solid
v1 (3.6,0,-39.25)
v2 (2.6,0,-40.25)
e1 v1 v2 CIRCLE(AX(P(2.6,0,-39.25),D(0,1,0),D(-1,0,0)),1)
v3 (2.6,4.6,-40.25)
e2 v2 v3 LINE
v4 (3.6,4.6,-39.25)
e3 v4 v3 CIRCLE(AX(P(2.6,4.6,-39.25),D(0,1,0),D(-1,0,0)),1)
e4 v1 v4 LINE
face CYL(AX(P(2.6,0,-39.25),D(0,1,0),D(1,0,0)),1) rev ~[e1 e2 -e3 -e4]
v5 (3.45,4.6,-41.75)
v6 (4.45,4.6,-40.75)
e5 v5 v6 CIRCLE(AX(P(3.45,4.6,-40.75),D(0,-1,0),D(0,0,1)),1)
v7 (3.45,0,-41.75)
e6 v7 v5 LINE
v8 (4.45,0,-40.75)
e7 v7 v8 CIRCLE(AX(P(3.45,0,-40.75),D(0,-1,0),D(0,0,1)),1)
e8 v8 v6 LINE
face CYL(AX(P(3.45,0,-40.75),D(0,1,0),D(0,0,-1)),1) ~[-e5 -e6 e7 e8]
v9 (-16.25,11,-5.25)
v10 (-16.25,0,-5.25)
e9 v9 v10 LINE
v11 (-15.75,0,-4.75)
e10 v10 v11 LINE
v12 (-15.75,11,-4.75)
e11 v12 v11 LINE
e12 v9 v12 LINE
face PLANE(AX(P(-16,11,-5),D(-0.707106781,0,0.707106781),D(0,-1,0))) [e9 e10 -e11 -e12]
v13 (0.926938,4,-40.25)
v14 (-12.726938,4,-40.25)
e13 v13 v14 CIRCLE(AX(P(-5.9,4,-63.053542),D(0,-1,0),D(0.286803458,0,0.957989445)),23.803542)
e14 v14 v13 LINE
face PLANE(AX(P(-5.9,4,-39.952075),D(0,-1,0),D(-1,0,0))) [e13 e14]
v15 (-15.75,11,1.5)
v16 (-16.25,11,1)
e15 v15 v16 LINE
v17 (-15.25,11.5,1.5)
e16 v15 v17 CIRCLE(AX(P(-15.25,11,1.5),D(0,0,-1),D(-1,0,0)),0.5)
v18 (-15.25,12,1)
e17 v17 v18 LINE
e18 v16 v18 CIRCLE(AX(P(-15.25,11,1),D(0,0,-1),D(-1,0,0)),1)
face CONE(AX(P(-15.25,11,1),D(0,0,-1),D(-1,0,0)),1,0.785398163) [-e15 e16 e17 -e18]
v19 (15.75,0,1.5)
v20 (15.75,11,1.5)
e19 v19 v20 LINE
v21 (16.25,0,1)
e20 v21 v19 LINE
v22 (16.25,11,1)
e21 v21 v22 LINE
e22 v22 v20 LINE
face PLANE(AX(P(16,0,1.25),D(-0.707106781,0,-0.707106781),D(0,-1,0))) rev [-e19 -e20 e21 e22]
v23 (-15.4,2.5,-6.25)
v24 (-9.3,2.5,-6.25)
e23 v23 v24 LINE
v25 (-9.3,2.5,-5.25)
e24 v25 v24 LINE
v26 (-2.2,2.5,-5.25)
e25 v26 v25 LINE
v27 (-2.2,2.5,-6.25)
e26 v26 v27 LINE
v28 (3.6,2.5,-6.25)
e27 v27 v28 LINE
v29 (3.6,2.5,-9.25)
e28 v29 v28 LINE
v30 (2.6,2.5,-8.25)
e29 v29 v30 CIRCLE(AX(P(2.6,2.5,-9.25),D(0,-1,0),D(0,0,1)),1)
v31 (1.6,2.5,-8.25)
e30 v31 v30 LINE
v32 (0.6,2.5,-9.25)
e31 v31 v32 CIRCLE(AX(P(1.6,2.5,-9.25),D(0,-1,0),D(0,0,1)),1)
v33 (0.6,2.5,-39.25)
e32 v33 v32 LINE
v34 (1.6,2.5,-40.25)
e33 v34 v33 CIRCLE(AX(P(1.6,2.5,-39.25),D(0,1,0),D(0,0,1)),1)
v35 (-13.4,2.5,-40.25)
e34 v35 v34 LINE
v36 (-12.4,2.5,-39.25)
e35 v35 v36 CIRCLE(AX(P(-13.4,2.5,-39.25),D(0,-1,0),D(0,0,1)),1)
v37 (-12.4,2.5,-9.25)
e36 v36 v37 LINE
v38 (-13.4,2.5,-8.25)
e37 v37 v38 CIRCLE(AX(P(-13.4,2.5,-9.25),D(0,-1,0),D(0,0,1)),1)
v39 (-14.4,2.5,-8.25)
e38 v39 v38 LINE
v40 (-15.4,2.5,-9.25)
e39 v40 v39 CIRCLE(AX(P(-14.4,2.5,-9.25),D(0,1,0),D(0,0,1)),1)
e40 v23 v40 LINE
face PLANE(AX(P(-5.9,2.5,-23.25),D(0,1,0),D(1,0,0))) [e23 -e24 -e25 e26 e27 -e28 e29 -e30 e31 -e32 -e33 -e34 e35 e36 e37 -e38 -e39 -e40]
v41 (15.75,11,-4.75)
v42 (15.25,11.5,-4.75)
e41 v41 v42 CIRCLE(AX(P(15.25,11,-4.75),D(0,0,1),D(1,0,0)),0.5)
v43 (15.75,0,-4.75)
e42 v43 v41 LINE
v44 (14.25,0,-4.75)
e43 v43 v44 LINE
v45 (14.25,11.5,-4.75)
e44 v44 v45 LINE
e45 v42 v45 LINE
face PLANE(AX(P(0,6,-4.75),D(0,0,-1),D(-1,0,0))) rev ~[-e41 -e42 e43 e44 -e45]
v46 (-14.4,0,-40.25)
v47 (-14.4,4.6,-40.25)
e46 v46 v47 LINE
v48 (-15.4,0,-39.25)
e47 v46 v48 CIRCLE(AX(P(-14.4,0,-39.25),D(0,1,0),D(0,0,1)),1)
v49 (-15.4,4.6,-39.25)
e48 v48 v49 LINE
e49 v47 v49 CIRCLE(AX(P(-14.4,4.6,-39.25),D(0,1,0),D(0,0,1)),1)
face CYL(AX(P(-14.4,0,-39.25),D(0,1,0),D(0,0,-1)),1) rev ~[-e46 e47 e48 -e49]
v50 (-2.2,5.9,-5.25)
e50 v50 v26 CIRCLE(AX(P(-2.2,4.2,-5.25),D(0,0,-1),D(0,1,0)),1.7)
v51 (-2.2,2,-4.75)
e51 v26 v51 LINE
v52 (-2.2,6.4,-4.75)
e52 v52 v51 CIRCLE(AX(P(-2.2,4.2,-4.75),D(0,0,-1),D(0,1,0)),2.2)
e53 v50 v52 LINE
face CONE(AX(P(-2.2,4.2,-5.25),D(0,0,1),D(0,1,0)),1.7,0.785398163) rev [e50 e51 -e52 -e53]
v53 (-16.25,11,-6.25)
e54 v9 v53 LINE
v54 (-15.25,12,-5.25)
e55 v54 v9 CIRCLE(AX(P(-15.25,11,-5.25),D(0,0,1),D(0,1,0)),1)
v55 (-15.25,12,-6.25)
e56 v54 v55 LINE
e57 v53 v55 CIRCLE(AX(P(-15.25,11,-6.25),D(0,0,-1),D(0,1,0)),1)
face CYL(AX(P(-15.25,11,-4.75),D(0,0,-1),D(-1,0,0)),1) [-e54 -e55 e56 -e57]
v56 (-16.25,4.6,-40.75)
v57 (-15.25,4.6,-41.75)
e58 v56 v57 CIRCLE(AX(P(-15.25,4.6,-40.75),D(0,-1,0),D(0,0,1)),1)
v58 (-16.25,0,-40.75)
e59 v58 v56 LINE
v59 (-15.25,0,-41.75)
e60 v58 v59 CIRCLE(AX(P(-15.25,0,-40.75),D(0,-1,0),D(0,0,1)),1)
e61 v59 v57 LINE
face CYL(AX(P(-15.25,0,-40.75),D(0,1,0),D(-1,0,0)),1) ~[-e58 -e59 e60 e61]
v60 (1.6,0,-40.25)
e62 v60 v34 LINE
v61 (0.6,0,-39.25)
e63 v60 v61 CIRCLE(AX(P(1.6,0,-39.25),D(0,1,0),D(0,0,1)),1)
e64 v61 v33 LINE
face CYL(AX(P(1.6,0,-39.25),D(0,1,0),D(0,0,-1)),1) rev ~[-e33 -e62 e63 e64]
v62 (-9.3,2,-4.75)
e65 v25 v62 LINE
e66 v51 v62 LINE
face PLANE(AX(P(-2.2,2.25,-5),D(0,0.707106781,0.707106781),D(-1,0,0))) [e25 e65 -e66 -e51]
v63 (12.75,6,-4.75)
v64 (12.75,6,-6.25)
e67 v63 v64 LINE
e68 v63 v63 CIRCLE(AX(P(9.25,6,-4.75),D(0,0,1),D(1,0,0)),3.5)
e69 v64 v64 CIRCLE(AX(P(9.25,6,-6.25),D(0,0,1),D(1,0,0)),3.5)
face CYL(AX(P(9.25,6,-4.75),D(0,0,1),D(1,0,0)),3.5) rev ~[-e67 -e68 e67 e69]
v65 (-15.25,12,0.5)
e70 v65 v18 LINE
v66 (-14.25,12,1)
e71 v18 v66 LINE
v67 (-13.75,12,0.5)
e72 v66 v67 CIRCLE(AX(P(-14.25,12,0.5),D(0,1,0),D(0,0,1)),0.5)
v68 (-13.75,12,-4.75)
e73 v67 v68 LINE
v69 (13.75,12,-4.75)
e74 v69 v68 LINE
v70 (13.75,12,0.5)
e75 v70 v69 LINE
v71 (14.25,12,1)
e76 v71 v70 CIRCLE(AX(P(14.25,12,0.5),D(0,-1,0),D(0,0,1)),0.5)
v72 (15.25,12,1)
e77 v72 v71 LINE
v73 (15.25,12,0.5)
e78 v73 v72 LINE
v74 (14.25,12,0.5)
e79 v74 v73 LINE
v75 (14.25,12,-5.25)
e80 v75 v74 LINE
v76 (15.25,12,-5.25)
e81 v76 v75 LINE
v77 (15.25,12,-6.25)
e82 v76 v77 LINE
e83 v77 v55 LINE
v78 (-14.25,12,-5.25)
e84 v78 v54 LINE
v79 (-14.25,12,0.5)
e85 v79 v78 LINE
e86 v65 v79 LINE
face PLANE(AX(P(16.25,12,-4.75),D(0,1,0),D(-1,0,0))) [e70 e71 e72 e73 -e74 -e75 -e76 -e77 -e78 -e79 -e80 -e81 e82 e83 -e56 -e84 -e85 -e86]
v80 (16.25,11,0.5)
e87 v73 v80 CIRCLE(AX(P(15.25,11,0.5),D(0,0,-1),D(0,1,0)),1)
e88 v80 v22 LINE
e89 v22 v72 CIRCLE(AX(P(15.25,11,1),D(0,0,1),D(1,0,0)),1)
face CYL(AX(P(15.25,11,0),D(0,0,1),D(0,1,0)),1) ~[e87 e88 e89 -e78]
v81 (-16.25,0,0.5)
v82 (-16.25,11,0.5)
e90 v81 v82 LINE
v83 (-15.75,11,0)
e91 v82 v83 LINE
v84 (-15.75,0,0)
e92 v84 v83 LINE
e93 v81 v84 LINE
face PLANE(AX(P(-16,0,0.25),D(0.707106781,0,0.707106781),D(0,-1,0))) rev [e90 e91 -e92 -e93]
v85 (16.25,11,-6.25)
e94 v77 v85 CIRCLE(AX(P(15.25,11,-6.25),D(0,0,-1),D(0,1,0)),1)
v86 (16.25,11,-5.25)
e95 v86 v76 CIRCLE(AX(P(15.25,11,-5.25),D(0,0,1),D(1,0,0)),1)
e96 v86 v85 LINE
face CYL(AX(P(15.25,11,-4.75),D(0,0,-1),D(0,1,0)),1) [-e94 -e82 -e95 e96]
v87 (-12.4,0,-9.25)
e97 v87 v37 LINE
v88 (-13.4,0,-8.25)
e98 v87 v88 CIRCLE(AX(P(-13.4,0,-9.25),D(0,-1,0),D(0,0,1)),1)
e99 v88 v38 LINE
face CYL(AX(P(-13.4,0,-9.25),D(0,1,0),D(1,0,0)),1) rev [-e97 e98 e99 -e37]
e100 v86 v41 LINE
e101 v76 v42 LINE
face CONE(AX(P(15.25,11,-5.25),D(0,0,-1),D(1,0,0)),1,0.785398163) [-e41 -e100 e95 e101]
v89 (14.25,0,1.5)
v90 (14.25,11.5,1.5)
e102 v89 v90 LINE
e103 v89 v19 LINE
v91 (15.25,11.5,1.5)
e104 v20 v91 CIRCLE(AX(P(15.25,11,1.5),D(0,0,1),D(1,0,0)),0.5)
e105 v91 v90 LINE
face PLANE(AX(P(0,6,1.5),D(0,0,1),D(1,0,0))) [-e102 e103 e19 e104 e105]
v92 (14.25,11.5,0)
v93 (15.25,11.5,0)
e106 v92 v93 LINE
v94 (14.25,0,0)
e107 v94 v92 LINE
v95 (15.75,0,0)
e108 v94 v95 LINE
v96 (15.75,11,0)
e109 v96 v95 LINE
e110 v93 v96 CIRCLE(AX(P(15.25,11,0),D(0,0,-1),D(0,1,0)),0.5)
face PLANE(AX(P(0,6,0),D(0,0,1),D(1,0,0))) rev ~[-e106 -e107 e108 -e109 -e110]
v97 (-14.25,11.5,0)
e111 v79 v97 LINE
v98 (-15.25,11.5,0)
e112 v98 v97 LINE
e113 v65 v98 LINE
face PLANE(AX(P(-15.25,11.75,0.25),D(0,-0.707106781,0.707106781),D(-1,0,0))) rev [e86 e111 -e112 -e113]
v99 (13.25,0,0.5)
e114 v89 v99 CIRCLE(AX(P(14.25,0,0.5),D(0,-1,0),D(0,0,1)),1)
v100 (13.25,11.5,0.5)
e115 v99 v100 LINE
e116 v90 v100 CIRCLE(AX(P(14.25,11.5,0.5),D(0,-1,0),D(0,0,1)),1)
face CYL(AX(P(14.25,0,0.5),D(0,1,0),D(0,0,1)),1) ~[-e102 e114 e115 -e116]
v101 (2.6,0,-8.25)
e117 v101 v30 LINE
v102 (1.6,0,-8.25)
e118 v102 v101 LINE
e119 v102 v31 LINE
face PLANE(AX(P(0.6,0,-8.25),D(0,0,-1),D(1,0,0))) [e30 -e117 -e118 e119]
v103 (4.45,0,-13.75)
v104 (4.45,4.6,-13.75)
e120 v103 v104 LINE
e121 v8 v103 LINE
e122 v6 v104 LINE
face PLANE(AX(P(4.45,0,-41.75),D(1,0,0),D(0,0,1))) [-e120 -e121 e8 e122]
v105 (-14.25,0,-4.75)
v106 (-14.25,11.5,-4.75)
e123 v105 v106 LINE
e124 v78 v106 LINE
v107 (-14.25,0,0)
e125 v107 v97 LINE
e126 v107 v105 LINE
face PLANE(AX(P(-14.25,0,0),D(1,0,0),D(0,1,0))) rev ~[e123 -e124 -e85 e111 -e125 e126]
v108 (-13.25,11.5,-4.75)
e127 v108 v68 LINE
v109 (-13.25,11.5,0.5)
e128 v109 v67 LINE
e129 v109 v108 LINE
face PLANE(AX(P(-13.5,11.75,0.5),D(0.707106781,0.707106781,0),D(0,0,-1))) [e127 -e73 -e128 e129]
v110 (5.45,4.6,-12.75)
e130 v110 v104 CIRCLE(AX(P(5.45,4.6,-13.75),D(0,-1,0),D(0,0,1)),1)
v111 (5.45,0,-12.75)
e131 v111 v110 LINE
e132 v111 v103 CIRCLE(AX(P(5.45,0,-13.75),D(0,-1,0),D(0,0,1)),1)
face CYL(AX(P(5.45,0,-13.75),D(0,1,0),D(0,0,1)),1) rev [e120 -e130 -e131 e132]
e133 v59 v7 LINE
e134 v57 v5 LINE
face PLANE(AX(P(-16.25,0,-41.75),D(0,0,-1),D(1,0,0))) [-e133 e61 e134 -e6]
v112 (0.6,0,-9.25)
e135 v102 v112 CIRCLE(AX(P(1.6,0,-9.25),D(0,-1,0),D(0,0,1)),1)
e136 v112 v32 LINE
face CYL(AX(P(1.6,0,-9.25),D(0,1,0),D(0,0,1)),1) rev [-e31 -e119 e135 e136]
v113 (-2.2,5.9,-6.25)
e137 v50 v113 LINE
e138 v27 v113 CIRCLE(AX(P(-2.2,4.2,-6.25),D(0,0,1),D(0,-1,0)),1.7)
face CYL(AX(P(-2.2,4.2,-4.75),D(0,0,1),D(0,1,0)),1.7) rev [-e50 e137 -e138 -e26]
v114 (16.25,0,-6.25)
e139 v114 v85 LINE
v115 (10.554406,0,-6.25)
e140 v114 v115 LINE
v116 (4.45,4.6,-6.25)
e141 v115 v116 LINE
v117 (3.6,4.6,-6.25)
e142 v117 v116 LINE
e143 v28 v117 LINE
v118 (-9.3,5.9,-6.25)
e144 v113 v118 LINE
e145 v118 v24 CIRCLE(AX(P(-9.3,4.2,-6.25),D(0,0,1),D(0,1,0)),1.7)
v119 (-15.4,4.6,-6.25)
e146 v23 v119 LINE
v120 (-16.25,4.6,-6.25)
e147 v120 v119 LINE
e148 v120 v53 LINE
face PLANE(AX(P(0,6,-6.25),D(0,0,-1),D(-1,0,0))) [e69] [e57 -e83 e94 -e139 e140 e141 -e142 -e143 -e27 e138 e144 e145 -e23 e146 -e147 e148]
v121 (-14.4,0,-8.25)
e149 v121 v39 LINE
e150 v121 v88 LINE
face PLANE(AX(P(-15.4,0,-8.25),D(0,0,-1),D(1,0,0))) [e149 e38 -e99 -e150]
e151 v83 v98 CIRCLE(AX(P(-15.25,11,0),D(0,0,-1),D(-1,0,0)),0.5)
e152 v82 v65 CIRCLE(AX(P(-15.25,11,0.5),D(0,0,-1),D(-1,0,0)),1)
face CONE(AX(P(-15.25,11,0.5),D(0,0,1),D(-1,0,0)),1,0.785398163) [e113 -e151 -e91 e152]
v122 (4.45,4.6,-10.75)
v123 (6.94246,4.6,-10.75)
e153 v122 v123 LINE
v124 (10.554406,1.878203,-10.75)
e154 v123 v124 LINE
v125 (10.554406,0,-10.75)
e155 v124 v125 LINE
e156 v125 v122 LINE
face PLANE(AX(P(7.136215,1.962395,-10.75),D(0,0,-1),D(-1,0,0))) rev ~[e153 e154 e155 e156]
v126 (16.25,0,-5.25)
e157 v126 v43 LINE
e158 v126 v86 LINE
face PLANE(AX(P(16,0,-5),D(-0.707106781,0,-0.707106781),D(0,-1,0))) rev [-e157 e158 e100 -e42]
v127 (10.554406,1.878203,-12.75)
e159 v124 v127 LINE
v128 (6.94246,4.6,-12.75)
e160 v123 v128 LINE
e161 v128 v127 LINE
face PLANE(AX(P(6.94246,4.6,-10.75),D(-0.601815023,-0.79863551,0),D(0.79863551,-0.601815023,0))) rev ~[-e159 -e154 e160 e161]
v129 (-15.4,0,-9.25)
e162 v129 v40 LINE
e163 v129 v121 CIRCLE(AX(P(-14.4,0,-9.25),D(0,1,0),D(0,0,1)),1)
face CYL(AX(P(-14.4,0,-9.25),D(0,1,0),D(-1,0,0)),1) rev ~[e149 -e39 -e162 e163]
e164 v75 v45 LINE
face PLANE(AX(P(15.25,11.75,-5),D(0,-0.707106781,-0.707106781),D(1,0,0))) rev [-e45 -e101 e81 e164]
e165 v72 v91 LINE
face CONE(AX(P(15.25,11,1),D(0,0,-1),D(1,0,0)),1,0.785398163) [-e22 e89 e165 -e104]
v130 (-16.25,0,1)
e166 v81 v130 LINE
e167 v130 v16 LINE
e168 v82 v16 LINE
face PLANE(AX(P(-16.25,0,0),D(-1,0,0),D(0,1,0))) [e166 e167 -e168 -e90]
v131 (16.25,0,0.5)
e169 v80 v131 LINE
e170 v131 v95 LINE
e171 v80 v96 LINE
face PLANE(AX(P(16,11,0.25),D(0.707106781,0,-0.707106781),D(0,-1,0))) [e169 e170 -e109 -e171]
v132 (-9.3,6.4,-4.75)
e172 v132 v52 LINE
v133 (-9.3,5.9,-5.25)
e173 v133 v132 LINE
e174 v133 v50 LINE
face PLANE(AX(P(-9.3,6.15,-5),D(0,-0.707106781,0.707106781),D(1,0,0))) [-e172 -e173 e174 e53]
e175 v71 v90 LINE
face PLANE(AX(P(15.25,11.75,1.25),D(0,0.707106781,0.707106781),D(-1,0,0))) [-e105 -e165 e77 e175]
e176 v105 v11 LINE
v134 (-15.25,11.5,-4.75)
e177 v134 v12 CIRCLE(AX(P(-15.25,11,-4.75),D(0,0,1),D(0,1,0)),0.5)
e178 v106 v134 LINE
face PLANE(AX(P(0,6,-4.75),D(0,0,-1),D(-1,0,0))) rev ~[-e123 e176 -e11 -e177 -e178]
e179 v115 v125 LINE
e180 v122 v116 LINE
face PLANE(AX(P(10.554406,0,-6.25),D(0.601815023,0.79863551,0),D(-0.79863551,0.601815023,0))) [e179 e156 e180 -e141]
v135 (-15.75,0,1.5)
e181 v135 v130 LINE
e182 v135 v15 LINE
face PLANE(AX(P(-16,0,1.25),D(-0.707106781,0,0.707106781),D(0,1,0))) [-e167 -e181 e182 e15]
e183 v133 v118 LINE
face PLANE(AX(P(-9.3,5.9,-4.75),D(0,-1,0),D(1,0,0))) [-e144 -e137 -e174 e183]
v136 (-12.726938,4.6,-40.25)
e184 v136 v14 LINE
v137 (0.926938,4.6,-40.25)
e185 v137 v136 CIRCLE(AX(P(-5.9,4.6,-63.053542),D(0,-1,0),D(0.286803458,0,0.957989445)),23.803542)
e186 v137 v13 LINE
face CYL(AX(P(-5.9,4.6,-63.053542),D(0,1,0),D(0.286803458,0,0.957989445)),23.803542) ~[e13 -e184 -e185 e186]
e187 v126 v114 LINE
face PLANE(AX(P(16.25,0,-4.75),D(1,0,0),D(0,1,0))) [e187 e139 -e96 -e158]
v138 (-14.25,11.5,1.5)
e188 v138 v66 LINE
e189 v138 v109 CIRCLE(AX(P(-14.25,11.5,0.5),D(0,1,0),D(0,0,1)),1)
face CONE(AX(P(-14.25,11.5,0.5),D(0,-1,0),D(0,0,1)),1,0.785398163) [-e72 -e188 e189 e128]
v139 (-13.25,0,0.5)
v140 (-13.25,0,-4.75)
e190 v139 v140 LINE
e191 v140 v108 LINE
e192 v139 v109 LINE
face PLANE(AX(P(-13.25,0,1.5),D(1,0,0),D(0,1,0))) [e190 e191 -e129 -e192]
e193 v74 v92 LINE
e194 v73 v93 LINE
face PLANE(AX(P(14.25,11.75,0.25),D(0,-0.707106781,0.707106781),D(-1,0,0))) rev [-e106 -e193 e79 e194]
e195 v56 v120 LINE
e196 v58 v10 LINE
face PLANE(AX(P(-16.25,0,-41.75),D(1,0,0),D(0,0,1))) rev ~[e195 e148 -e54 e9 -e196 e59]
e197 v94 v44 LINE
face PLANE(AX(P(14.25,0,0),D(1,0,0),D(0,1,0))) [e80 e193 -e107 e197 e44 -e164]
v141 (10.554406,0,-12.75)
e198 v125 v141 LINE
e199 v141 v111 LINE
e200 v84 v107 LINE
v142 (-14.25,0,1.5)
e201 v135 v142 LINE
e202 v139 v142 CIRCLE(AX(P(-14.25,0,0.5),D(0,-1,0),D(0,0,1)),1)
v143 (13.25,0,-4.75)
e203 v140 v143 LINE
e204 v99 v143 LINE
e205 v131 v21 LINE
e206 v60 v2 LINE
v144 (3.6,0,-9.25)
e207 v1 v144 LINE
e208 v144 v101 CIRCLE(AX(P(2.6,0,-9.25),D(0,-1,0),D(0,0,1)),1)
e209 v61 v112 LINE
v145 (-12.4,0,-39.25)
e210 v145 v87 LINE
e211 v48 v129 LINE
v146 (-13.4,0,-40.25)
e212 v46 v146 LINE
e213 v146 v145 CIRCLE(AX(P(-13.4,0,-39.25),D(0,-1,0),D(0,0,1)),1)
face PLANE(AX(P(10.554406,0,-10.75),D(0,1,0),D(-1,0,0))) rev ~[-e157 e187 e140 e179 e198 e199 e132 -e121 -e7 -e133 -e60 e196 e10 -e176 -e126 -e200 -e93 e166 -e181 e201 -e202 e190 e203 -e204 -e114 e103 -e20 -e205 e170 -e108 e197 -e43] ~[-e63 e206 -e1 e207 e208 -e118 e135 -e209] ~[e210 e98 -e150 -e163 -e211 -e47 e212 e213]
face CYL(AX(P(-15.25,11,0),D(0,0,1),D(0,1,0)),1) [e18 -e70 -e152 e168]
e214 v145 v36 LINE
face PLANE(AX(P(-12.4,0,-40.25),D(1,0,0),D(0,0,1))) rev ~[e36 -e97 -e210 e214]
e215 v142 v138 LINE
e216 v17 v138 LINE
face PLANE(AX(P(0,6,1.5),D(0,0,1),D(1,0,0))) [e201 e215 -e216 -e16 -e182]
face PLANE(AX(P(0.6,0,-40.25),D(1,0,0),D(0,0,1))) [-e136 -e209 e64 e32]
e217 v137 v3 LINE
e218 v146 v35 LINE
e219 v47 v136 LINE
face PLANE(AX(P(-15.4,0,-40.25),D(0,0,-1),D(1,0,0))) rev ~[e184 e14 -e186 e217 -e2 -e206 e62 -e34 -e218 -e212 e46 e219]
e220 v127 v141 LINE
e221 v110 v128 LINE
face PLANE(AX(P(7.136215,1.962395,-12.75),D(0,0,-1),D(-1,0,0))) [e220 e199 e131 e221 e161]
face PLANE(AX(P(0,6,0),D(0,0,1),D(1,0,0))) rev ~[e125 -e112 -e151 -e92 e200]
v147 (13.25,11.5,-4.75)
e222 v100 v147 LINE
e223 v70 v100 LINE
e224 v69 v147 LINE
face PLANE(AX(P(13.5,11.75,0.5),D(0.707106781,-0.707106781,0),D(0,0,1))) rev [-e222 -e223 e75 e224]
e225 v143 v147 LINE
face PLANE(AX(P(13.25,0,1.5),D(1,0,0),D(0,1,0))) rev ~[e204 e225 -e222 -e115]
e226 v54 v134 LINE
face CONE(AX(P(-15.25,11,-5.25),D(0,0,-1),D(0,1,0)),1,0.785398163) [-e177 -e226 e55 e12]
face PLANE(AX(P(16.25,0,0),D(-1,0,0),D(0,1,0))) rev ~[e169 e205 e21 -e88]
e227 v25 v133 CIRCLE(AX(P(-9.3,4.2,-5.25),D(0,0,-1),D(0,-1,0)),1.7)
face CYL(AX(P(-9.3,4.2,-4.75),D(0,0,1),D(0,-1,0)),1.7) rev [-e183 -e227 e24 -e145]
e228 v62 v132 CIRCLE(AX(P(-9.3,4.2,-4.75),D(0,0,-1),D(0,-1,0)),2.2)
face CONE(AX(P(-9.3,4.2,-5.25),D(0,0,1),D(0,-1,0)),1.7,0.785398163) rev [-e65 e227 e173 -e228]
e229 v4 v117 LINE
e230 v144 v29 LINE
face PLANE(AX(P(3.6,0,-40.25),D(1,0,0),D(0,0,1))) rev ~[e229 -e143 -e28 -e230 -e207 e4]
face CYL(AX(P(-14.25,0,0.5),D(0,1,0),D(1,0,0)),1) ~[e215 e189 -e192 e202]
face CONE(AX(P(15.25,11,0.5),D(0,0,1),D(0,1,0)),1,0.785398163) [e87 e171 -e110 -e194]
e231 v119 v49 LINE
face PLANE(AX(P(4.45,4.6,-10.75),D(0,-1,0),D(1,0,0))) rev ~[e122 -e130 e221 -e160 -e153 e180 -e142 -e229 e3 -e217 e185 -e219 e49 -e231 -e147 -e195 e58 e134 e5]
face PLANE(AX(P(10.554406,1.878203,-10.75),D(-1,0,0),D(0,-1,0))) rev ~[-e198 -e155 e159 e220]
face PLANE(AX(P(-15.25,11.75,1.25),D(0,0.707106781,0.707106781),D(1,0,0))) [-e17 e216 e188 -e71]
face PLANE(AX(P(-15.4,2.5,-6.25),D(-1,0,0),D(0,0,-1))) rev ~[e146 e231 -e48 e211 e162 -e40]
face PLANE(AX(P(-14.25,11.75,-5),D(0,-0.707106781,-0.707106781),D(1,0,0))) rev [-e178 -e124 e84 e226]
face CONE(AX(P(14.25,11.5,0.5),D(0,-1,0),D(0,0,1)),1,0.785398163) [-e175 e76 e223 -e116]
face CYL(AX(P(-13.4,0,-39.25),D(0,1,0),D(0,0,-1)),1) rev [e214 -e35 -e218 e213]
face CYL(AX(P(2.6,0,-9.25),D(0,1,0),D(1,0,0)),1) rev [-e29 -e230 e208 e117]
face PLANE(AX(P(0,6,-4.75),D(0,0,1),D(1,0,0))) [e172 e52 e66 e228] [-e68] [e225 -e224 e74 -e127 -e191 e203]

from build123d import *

# Parameters (mm, degrees)
SKETCH1_W                  = 28.5
SKETCH1_H                  = 12
BOSS_EXTRUDE1_DEPTH        = 4.75
SKETCH2_W                  = 32.5
SKETCH2_H                  = 12
BOSS_EXTRUDE2_DEPTH        = 1.5
SKETCH3_W                  = 32.5
SKETCH3_H                  = 12
BOSS_EXTRUDE3_DEPTH        = 1.5
SKETCH4_W                  = 26.5
SKETCH4_H                  = 12
CUT_EXTRUDE1_DEPTH         = 6.25
SKETCH5_R                  = 3.5
CUTOUTS_DEPTH              = 10
SKETCH6_W                  = 20.7
SKETCH6_H                  = 35.5
SKETCH6_W_2                = 3
SKETCH6_H_2                = 32
MC_TRAY_BOSS_DEPTH         = 4.6
MC_START                   = -2.1
SKETCH7_W                  = 19
SKETCH7_H                  = 34
MC_TRAY_INTERIOR_CUT_DEPTH = 2.1
SWITCH_TRIANGLE_DEPTH      = 4.5
SWITCH_TAB_DEPTH           = 2
FILLET1_R                  = 1
CHAMFER1_SIZE              = 0.5
BOSS_EXTRUDE7_DEPTH        = 0.6


with BuildPart() as part:
    # Sketch1 → Boss-Extrude1 (new body)
    with BuildSketch(Plane.XY):
        with Locations((0, 6)):
            Rectangle(SKETCH1_W, SKETCH1_H)
    extrude(amount=-BOSS_EXTRUDE1_DEPTH)

    # Sketch2 → Boss-Extrude2 (add)
    with BuildSketch(Plane.XY):
        with Locations((0, 6)):
            Rectangle(SKETCH2_W, SKETCH2_H)
    extrude(amount=BOSS_EXTRUDE2_DEPTH)

    # Sketch3 → Boss-Extrude3 (add)
    with BuildSketch(Plane(origin=(0, 0, -4.75), x_dir=(-1, 0, 0), z_dir=(0, 0, -1))):
        with Locations((0, 6)):
            Rectangle(SKETCH3_W, SKETCH3_H)
    extrude(amount=BOSS_EXTRUDE3_DEPTH)

    # Sketch4 → Cut-Extrude1 (cut)
    with BuildSketch(Plane.XY.offset(1.5)):
        with Locations((0, 6)):
            Rectangle(SKETCH4_W, SKETCH4_H)
    extrude(amount=-CUT_EXTRUDE1_DEPTH, mode=Mode.SUBTRACT)

    # Sketch5 → Cutouts (cut)
    with BuildSketch(Plane.XY.offset(-4.75)):
        with Locations((9.25, 6)):
            Circle(SKETCH5_R)
        with BuildLine():
            Line((-9.3, 5.9), (-2.2, 5.9))
            ThreePointArc((-2.2, 5.9), (-0.5, 4.2), (-2.2, 2.5))
            Line((-2.2, 2.5), (-9.3, 2.5))
            ThreePointArc((-9.3, 2.5), (-11, 4.2), (-9.3, 5.9))
        make_face()
    extrude(amount=-CUTOUTS_DEPTH, mode=Mode.SUBTRACT)

    # Sketch6 → MC Tray Boss (add)
    with BuildSketch(Plane.XZ):
        with Locations((-5.9, -24)):
            Rectangle(SKETCH6_W, SKETCH6_H)
        with Locations((-13.9, -24.25)):
            Rectangle(SKETCH6_W_2, SKETCH6_H_2, mode=Mode.SUBTRACT)
        with Locations((2.1, -24.25)):
            Rectangle(SKETCH6_W_2, SKETCH6_H_2, mode=Mode.SUBTRACT)
    extrude(amount=-MC_TRAY_BOSS_DEPTH)

    # Sketch7 → MC Tray Interior Cut (cut)
    with BuildSketch(Plane(origin=(0, 4.6, 0), x_dir=(1, 0, 0), z_dir=(0, 1, 0)).offset(MC_START)):
        with Locations((-5.9, 23.25)):
            Rectangle(SKETCH7_W, SKETCH7_H)
    extrude(amount=MC_TRAY_INTERIOR_CUT_DEPTH, mode=Mode.SUBTRACT)

    # Sketch8 → Switch Triangle (add)
    with BuildSketch(Plane(origin=(0, 0, -6.25), x_dir=(-1, 0, 0), z_dir=(0, 0, -1))):
        Polygon((-4.45, 4.6), (-4.45, 0), (-10.554406179, 0), align=None)
    extrude(amount=SWITCH_TRIANGLE_DEPTH)

    # Sketch9 → Switch Tab (add)
    with BuildSketch(Plane(origin=(0, 0, -10.75), x_dir=(-1, 0, 0), z_dir=(0, 0, -1))):
        Polygon((-4.45, 4.6), (-6.942460212, 4.6), (-10.554406179, 1.878203487), (-10.554406179, 0), (-4.45, 0), align=None)
    extrude(amount=SWITCH_TAB_DEPTH)

    # Fillet1
    fillet1_edges = [part.edges().sort_by_distance(p)[0] for p in [
        (3.6, 1.25, -8.25),
        (0.6, 1.25, -40.25),
        (0.6, 1.25, -8.25),
        (-15.4, 1.25, -8.25),
        (-12.4, 1.25, -8.25),
        (-12.4, 1.25, -40.25),
        (16.25, 12, 0.75),
        (-16.25, 12, 0.75),
        (4.45, 2.3, -12.75),
        (16.25, 12, -5.5),
        (-16.25, 12, -5.5),
        (-13.25, 6, 1.5),
        (13.25, 6, 1.5),
        (4.45, 2.3, -41.75),
        (-16.25, 2.3, -41.75),
        (-15.4, 2.3, -40.25),
        (3.6, 2.3, -40.25),
    ]]
    fillet(fillet1_edges, radius=FILLET1_R)

    # Chamfer1
    chamfer1_edges = [part.edges().sort_by_distance(p)[0] for p in [
        (13.25, 12, -2.125),
        (13.542893219, 12, 1.207106781),
        (14.75, 12, 1.5),
        (15.957106781, 11.707106781, 1.5),
        (16.25, 5.5, 1.5),
        (-13.25, 12, -2.125),
        (-13.542893219, 12, 1.207106781),
        (-14.75, 12, 1.5),
        (-15.957106781, 11.707106781, 1.5),
        (-16.25, 5.5, 1.5),
        (-14.75, 12, 0),
        (-15.957106781, 11.707106781, 0),
        (-16.25, 5.5, 0),
        (14.75, 12, 0),
        (15.957106781, 11.707106781, 0),
        (16.25, 5.5, 0),
        (14.75, 12, -4.75),
        (15.957106781, 11.707106781, -4.75),
        (16.25, 5.5, -4.75),
        (-14.75, 12, -4.75),
        (-15.957106781, 11.707106781, -4.75),
        (-16.25, 5.5, -4.75),
        (-11, 4.2, -4.75),
        (-5.75, 2.5, -4.75),
        (-5.75, 5.9, -4.75),
        (-0.5, 4.2, -4.75),
    ]]
    chamfer(chamfer1_edges, length=CHAMFER1_SIZE)

    # Sketch10 → Boss-Extrude7 (add)
    with BuildSketch(Plane(origin=(0, 4.6, 0), x_dir=(1, 0, 0), z_dir=(0, 1, 0))):
        with BuildLine():
            Line((-12.726938069, 40.25), (-5.9, 40.25))
            Line((-5.9, 40.25), (0.926938069, 40.25))
            ThreePointArc((0.926938069, 40.25), (-5.9, 39.25), (-12.726938069, 40.25))
        make_face()
    extrude(amount=-BOSS_EXTRUDE7_DEPTH)


solid = part.part
